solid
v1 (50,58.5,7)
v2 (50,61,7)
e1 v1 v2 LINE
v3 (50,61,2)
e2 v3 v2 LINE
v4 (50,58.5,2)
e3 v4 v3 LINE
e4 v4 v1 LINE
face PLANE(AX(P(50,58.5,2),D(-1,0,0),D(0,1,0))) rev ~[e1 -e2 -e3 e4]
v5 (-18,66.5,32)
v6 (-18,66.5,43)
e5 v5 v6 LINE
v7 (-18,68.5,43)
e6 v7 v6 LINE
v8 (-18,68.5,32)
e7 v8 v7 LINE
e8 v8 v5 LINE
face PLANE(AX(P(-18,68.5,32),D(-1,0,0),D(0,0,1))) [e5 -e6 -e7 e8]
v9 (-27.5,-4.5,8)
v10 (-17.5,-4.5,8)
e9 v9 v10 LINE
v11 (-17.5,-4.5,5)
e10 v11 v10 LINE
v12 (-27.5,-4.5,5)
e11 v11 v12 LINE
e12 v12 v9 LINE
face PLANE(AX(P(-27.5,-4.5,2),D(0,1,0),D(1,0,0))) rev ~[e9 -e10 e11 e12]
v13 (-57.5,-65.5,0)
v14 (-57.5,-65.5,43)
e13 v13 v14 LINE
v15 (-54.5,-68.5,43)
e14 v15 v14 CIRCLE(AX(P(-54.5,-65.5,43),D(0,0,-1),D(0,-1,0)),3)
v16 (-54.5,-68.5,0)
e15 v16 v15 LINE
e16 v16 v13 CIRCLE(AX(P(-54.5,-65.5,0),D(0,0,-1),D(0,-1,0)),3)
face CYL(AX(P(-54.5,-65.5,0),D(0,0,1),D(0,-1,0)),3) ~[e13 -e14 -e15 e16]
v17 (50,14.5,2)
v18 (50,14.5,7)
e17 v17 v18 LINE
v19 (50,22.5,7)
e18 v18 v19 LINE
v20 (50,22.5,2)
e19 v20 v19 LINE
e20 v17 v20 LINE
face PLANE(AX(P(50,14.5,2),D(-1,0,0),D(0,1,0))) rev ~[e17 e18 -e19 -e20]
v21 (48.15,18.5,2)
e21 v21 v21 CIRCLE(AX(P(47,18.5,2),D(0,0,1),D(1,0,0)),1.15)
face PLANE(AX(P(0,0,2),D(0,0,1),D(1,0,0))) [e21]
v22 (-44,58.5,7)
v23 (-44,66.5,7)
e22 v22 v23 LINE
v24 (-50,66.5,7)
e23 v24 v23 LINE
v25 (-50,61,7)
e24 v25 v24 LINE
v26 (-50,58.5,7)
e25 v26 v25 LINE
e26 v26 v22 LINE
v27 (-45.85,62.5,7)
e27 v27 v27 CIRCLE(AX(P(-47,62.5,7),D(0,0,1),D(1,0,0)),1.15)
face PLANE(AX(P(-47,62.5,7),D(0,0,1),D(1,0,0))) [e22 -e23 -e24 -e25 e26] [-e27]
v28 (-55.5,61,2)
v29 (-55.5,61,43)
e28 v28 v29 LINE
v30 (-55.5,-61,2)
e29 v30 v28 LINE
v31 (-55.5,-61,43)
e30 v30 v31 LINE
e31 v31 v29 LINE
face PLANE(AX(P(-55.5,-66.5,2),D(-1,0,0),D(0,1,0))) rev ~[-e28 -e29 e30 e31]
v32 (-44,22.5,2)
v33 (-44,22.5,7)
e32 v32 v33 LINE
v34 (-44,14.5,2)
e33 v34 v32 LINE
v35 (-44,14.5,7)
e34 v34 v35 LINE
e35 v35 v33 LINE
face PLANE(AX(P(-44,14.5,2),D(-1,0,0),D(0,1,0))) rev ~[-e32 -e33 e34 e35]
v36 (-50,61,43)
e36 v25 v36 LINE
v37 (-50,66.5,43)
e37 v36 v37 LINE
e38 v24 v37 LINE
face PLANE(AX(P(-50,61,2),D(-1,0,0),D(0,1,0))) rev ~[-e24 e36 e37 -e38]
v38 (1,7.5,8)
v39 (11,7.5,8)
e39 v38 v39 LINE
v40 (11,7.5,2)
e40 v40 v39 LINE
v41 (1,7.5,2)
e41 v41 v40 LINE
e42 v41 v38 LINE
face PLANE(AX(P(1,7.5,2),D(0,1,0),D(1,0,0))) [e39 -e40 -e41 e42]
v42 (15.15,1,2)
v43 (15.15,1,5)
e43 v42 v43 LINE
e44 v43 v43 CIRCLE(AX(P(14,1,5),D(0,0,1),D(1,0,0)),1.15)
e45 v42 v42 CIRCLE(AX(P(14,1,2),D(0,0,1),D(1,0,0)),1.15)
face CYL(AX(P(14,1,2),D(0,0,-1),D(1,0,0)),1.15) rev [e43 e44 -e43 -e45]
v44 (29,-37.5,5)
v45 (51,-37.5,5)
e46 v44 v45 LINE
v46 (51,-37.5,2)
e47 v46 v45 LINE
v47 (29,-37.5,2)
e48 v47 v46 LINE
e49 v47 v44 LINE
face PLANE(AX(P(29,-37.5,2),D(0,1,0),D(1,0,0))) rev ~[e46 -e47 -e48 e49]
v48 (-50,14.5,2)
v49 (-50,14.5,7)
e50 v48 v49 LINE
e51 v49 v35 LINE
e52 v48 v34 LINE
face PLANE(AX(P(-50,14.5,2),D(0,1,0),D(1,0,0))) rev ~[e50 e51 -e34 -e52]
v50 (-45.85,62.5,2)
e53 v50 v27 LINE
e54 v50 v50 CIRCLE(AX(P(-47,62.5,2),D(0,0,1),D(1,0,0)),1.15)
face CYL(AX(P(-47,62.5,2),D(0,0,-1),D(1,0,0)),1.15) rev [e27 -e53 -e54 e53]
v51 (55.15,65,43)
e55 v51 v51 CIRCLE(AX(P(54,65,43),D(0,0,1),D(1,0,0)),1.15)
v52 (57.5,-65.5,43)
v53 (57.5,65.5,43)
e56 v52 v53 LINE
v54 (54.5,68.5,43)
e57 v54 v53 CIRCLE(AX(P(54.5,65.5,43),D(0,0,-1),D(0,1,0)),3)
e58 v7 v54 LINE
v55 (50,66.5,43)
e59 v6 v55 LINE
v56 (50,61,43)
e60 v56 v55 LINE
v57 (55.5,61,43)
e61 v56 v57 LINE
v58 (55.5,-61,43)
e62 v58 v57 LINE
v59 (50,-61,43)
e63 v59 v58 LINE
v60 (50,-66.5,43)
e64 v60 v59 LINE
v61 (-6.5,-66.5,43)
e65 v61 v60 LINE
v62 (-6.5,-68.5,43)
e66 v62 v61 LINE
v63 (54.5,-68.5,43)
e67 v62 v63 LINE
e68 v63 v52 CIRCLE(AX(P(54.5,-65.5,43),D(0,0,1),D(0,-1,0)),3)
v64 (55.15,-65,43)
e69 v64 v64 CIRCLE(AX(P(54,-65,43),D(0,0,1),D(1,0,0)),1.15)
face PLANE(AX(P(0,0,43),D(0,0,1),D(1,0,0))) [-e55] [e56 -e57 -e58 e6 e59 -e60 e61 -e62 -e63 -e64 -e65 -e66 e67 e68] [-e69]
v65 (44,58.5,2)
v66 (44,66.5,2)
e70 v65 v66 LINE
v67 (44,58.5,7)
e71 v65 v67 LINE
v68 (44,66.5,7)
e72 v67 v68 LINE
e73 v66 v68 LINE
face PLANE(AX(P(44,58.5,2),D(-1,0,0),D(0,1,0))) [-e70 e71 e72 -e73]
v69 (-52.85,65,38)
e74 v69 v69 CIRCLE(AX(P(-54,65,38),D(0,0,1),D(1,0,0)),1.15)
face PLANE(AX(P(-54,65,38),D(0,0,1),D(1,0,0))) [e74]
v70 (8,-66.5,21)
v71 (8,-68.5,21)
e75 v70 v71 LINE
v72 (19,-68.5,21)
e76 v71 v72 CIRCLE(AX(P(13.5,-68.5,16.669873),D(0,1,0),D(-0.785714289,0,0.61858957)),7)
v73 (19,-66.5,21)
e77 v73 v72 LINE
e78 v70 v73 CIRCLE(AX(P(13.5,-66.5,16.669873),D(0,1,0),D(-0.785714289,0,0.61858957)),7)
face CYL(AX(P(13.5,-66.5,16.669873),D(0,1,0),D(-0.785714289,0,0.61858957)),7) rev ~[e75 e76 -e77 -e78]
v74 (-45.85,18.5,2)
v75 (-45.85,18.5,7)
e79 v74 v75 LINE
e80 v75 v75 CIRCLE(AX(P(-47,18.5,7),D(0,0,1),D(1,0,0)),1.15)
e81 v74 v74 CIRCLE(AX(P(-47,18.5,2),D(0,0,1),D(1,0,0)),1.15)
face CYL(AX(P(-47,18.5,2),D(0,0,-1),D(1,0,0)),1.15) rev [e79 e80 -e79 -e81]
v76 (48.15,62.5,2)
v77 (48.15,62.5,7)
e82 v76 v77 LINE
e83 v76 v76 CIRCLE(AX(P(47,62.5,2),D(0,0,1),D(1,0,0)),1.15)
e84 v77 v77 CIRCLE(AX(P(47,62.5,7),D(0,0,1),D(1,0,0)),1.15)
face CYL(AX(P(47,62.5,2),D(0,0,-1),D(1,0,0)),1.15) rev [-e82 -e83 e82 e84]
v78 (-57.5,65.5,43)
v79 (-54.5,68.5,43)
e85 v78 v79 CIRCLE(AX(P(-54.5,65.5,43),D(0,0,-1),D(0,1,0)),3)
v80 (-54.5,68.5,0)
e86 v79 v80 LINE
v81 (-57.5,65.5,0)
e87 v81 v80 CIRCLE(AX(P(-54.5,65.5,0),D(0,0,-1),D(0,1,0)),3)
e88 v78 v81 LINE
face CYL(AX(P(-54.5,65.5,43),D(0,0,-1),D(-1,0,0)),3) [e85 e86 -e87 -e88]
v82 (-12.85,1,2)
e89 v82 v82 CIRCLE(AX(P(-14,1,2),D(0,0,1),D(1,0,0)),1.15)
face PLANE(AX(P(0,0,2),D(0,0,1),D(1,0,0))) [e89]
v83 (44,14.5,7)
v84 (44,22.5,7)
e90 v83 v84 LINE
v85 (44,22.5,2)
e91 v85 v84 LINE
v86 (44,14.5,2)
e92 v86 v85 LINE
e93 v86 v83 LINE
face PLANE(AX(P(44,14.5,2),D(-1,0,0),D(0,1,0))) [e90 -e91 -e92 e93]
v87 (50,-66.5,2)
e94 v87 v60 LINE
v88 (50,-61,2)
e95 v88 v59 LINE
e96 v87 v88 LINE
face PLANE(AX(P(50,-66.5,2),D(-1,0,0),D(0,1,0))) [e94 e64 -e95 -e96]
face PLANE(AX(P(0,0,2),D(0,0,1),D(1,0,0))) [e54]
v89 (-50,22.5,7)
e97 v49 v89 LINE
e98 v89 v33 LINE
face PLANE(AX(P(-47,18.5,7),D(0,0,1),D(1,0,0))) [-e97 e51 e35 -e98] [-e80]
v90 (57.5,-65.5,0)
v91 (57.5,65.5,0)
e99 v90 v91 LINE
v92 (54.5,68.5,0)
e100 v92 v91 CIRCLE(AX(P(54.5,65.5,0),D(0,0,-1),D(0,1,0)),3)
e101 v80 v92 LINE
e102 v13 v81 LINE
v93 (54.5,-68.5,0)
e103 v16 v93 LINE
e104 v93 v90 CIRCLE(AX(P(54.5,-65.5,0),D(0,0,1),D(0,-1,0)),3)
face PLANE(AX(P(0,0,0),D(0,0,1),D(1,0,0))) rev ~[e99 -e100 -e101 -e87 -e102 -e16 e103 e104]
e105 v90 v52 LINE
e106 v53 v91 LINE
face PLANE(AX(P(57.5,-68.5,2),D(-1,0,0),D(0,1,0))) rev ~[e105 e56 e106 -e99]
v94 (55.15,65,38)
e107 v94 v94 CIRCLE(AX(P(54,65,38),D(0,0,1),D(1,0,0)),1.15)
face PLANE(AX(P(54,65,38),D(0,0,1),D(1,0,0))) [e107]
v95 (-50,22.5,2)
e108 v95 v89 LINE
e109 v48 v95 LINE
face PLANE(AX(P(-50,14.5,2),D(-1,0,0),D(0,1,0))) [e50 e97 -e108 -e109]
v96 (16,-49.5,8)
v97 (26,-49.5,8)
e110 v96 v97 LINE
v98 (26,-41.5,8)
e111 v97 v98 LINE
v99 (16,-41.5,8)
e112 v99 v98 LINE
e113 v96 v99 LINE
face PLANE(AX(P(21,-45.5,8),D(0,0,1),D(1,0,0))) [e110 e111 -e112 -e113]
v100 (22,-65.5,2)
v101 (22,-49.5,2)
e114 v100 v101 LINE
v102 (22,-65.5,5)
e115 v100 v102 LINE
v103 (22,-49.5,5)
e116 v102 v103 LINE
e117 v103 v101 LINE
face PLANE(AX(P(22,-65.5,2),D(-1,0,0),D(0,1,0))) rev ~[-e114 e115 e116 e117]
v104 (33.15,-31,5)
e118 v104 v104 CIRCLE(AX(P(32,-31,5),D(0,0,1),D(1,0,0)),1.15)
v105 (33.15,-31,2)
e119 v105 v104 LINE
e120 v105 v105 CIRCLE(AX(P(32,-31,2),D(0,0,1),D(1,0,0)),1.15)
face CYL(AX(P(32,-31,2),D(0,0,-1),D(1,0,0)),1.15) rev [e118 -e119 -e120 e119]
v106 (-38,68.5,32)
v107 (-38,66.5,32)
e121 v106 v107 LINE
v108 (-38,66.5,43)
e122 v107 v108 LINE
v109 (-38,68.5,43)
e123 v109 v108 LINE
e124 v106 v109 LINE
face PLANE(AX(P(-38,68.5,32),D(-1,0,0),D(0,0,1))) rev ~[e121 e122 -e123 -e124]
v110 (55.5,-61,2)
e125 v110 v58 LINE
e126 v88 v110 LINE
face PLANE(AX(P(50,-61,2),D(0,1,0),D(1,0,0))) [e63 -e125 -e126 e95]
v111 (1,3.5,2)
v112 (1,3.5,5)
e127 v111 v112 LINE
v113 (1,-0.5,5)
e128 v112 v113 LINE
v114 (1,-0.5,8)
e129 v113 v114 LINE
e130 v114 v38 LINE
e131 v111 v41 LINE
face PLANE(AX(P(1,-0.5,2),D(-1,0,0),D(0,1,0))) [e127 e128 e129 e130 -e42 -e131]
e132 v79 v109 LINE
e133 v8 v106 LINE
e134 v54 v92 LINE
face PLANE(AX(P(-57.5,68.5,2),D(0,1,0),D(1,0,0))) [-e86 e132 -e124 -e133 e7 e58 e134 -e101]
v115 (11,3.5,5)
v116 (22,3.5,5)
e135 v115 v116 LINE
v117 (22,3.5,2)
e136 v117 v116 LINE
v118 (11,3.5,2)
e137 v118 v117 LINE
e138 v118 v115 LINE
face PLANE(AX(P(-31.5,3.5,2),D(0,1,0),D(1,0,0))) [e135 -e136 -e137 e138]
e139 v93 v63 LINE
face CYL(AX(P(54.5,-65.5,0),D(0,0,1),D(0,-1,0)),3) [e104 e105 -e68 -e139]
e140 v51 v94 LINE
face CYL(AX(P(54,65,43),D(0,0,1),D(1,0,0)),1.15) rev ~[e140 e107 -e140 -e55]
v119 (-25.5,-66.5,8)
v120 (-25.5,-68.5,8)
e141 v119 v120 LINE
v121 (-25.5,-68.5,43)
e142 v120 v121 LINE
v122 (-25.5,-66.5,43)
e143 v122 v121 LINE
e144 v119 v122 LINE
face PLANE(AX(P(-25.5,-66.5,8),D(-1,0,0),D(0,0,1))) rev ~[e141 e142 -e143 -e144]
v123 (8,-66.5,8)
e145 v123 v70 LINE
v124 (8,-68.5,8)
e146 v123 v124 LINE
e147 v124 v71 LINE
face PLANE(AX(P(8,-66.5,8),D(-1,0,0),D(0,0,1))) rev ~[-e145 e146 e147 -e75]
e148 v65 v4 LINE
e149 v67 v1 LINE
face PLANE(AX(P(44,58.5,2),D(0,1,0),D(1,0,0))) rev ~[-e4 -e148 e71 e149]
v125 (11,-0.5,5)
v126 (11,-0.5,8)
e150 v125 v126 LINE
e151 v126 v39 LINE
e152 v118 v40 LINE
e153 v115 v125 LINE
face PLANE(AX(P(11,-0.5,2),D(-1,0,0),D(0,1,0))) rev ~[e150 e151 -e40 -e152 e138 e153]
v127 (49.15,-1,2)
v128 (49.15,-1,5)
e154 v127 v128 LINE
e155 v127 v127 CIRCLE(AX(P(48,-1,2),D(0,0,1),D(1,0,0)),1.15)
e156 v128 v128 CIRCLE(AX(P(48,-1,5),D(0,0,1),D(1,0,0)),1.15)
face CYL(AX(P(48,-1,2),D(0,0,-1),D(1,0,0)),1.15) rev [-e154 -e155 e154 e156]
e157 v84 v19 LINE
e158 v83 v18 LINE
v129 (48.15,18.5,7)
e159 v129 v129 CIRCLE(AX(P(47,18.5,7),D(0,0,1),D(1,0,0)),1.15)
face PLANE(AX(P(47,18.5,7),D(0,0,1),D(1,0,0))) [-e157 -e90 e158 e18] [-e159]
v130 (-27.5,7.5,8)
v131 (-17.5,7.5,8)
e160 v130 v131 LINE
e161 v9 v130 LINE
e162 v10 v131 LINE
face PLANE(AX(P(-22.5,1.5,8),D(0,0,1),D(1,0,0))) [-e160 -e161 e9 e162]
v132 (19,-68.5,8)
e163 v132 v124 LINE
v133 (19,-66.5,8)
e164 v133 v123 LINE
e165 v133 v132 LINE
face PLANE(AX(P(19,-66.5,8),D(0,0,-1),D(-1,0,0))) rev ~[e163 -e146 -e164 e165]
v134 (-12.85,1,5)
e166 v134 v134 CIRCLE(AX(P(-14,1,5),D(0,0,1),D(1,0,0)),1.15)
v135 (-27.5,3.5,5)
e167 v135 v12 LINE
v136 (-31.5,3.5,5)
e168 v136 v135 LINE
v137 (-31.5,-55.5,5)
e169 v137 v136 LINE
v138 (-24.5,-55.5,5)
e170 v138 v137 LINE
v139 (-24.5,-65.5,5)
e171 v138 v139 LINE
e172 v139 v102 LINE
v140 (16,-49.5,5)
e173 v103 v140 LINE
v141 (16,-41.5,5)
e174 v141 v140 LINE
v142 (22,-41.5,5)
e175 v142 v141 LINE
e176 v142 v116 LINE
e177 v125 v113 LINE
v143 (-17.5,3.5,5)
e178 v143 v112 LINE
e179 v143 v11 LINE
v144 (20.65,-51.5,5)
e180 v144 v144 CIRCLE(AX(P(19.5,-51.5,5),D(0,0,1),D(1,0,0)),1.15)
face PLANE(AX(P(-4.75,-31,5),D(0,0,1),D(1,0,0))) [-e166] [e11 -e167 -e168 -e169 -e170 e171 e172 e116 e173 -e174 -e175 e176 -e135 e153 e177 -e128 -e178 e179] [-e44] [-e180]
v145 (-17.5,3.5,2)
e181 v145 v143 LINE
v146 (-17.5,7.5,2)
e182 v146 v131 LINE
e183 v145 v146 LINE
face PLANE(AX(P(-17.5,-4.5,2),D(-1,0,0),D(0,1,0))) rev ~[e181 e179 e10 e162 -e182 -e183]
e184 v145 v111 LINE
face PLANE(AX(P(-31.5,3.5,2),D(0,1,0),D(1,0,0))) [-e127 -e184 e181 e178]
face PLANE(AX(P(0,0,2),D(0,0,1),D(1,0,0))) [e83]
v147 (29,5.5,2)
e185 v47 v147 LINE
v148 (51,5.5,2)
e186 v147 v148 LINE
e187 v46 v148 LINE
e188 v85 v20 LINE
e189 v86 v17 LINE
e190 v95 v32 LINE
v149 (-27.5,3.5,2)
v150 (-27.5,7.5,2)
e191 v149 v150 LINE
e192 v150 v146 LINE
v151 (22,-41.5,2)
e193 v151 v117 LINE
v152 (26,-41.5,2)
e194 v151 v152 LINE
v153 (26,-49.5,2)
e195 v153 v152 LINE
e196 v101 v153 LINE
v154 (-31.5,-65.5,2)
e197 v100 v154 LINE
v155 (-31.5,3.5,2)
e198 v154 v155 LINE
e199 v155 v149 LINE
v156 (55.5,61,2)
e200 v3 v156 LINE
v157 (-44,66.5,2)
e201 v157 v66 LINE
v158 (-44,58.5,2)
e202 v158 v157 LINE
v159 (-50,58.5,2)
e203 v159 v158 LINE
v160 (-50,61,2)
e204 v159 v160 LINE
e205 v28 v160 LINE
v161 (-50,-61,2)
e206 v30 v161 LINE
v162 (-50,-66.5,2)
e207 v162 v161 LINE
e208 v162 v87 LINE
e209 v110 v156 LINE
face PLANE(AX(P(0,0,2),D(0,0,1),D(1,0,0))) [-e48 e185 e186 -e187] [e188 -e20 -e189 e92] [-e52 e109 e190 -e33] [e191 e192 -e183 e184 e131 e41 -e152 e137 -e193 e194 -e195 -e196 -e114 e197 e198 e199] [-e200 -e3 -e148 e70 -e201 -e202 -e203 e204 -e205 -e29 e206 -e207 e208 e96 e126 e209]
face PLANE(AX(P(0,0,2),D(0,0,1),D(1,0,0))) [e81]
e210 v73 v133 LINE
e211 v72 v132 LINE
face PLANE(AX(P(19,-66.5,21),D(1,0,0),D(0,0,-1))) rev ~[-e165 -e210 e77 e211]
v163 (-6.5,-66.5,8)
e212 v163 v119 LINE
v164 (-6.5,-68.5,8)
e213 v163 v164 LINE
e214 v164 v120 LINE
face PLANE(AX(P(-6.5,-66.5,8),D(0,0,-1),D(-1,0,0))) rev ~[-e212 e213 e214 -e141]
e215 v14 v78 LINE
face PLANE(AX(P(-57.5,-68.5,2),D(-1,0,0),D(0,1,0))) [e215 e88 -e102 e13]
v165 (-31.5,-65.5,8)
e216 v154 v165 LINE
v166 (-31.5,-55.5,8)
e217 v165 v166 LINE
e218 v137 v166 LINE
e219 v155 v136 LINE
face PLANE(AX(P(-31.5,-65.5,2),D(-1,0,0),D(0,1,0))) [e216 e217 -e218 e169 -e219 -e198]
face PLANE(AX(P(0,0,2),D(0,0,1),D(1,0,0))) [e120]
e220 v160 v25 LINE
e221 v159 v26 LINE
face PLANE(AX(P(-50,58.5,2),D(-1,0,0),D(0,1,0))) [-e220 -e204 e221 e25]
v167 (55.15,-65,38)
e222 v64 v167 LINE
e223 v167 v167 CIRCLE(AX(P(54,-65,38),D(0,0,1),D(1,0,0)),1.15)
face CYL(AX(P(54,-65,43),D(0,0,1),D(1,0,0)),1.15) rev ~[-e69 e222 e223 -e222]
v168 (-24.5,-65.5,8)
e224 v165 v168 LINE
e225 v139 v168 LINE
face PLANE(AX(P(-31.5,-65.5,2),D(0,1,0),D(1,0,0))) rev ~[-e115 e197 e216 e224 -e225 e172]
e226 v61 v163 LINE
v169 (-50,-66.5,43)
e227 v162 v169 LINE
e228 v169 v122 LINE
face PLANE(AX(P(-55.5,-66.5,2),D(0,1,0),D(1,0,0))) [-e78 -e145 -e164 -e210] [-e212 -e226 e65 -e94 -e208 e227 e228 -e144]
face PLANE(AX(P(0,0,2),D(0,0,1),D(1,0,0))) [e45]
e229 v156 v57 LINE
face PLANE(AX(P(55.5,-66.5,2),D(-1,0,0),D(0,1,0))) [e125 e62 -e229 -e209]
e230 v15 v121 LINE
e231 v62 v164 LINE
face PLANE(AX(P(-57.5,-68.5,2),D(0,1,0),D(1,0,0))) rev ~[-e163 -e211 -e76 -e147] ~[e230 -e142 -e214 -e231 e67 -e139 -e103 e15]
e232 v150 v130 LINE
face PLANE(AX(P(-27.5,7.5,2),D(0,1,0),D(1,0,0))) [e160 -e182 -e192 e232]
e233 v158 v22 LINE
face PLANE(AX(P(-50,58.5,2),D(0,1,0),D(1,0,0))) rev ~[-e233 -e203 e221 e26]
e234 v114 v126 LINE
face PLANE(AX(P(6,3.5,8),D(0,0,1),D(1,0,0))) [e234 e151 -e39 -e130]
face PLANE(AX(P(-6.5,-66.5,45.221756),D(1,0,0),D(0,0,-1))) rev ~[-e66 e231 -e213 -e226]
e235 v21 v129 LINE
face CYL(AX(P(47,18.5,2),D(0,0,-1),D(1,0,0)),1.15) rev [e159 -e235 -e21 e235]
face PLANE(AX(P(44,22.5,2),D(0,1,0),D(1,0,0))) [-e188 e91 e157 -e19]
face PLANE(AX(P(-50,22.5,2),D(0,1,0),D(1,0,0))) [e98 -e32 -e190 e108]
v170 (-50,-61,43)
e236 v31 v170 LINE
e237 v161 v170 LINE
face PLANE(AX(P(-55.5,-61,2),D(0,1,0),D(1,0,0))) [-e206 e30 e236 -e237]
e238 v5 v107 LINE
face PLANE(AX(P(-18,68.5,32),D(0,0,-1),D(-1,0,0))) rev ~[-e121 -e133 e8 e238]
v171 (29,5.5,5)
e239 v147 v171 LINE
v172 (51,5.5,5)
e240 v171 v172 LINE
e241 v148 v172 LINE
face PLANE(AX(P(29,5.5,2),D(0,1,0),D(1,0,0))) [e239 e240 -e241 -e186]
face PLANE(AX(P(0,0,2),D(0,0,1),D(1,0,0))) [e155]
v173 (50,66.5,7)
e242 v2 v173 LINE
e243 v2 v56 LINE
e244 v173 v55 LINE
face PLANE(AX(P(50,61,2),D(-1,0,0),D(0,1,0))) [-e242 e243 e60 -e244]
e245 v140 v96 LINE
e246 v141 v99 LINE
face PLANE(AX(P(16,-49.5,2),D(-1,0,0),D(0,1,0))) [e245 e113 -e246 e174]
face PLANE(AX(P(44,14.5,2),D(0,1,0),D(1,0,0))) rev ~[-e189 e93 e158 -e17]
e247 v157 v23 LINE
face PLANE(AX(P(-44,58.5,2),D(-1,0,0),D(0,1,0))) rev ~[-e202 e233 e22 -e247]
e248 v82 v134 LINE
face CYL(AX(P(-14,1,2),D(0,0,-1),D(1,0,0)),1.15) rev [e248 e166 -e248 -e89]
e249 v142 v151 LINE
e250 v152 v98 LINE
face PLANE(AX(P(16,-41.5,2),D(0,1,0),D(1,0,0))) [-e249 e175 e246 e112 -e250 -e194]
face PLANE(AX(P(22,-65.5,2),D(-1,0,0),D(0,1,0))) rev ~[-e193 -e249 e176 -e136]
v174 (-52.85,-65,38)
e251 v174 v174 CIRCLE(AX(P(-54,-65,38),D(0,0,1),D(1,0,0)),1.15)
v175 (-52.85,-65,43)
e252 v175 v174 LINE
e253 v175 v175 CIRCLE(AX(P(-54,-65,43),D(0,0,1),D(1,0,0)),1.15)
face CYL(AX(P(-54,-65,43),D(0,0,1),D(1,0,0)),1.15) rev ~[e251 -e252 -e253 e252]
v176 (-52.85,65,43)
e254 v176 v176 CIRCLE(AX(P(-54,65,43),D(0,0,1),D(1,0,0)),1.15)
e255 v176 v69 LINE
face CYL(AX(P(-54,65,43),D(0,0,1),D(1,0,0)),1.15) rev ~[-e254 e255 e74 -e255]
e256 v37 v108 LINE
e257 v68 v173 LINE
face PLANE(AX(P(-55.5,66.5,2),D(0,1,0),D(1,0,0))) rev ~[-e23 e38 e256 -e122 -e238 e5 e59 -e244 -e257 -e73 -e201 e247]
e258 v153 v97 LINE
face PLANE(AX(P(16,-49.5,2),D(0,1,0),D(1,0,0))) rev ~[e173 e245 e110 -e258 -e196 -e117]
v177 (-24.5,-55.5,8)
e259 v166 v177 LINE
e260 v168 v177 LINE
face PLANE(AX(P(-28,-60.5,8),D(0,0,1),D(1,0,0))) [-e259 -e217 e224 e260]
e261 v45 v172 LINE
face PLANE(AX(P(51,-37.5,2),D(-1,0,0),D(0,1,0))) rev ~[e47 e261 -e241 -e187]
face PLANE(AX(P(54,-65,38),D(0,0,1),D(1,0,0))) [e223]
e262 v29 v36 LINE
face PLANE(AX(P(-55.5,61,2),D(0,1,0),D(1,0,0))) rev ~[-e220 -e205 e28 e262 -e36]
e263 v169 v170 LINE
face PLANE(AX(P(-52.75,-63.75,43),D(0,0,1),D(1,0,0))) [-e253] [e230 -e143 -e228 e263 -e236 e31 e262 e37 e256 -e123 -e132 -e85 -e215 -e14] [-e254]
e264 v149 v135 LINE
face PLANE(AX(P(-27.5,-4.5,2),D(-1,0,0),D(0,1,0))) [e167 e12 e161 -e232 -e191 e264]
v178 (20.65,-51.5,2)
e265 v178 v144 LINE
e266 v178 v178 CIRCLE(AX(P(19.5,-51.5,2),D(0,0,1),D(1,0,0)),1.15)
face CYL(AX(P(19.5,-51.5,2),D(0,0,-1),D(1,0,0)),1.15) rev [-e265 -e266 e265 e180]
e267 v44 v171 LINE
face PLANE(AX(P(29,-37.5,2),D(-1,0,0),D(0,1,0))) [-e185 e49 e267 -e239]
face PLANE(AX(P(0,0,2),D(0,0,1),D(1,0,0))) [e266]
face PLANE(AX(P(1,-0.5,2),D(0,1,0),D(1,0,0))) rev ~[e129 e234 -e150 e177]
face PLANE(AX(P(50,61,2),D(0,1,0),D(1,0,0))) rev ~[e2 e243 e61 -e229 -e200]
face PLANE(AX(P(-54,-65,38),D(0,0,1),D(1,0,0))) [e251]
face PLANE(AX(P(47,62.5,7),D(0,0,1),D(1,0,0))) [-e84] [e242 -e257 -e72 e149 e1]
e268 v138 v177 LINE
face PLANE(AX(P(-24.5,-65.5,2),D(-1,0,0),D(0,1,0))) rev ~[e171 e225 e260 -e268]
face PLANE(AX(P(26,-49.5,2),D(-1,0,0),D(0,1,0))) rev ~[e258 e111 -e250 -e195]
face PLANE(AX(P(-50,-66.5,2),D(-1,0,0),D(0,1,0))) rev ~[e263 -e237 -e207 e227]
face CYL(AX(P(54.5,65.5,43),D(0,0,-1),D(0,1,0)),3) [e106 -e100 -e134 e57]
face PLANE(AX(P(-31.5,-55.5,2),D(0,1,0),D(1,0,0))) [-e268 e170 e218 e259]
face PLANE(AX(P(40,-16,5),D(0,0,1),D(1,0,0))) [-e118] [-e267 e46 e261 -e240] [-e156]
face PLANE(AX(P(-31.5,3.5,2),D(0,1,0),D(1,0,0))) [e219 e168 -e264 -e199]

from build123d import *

# Parameters (mm, degrees)
F0_W      = 115
F0_H      = 137
F1_DEPTH  = 2
F2_W      = 115
F2_H      = 137
F2_W_2    = 111
F2_H_2    = 133
F3_DEPTH  = 41
F4_W      = 6
F4_H      = 8
F4_R      = 1.15
F5_DEPTH  = 5
F6_W      = 22
F6_H      = 43
F6_R      = 1.15
F7_DEPTH  = 3
F8_W      = 53.5
F8_H      = 69
F8_R      = 1.15
F9_DEPTH  = 3
F10_W     = 10
F10_H     = 8
F10_W_2   = 7
F10_H_2   = 10
F10_H_3   = 12
F11_DEPTH = 6
F12_W     = 19
F12_H     = 5.221757
F12_H_2   = 32
F13_DEPTH = 2
F14_W     = 20
F14_H     = 11
F15_DEPTH = 2
F16_W     = 5.5
F16_H     = 5.5
F17_DEPTH = 41
F18_R     = 1.15
F19_DEPTH = 5
F20_R     = 3


with BuildPart() as f1:
    # F0 (on Top) → F1 (new body)
    with BuildSketch(Plane.XY):
        Rectangle(F0_W, F0_H)
    extrude(amount=F1_DEPTH)

    # F2 (on face) → F3 (join)
    with BuildSketch(Plane.XY.offset(2)):
        Rectangle(F2_W, F2_H)
        Rectangle(F2_W_2, F2_H_2, mode=Mode.SUBTRACT)
    extrude(amount=F3_DEPTH)

    # F4 (on face) → F5 (join)
    with BuildSketch(Plane.XY.offset(2)):
        with Locations((-47, 62.5)):
            Rectangle(F4_W, F4_H)
        with Locations((-47, 62.5)):
            Circle(F4_R, mode=Mode.SUBTRACT)
        with Locations((47, 62.5)):
            Rectangle(F4_W, F4_H)
        with Locations((47, 62.5)):
            Circle(F4_R, mode=Mode.SUBTRACT)
        with Locations((-47, 18.5)):
            Rectangle(F4_W, F4_H)
        with Locations((-47, 18.5)):
            Circle(F4_R, mode=Mode.SUBTRACT)
        with Locations((47, 18.5)):
            Rectangle(F4_W, F4_H)
        with Locations((47, 18.5)):
            Circle(F4_R, mode=Mode.SUBTRACT)
    extrude(amount=F5_DEPTH)

    # F6 (on face) → F7 (join)
    with BuildSketch(Plane.XY.offset(2)):
        with Locations((40, -16)):
            Rectangle(F6_W, F6_H)
        with Locations((32, -31)):
            Circle(F6_R, mode=Mode.SUBTRACT)
        with Locations((48, -1)):
            Circle(F6_R, mode=Mode.SUBTRACT)
    extrude(amount=F7_DEPTH)

    # F8 (on face) → F9 (join)
    with BuildSketch(Plane.XY.offset(2)):
        with Locations((-4.75, -31)):
            Rectangle(F8_W, F8_H)
        with Locations((19.5, -51.5)):
            Circle(F8_R, mode=Mode.SUBTRACT)
        with Locations((-14, 1)):
            Circle(F8_R, mode=Mode.SUBTRACT)
        with Locations((14, 1)):
            Circle(F8_R, mode=Mode.SUBTRACT)
    extrude(amount=F9_DEPTH)

    # F10 (on face) → F11 (join)
    with BuildSketch(Plane.XY.offset(2)):
        with Locations((6, 3.5)):
            Rectangle(F10_W, F10_H)
        with Locations((21, -45.5)):
            Rectangle(F10_W, F10_H)
        with Locations((-28, -60.5)):
            Rectangle(F10_W_2, F10_H_2)
        with Locations((-22.5, 1.5)):
            Rectangle(F10_W, F10_H_3)
    extrude(amount=F11_DEPTH)

    # F12 (on face) → F13 (cut)
    with BuildSketch(Plane(origin=(0, -66.5, 0), x_dir=(-1, 0, 0), z_dir=(0, 1, 0))):
        with Locations((16, 42.610878)):
            Rectangle(F12_W, F12_H)
        with Locations((16, 24)):
            Rectangle(F12_W, F12_H_2)
        with BuildLine():
            Line((-19, 8), (-8, 8))
            Line((-8, 8), (-8, 21))
            ThreePointArc((-8, 21), (-13.5, 23.669873), (-19, 21))
            Line((-19, 21), (-19, 8))
        make_face()
    extrude(amount=-F13_DEPTH, mode=Mode.SUBTRACT)

    # F14 (on face) → F15 (cut)
    with BuildSketch(Plane(origin=(0, 68.5, 0), x_dir=(-1, 0, 0), z_dir=(0, 1, 0))):
        with Locations((28, 37.5)):
            Rectangle(F14_W, F14_H)
    extrude(amount=-F15_DEPTH, mode=Mode.SUBTRACT)

    # F16 (on face) → F17 (join)
    with BuildSketch(Plane.XY.offset(2)):
        with Locations((-52.75, -63.75)):
            Rectangle(F16_W, F16_H)
        with Locations((-52.75, 63.75)):
            Rectangle(F16_W, F16_H)
        with Locations((52.75, 63.75)):
            Rectangle(F16_W, F16_H)
        with Locations((52.75, -63.75)):
            Rectangle(F16_W, F16_H)
    extrude(amount=F17_DEPTH)

    # F18 (on face) → F19 (cut)
    with BuildSketch(Plane.XY.offset(43)):
        with Locations((-54, -65)):
            Circle(F18_R)
        with Locations((-54, 65)):
            Circle(F18_R)
        with Locations((54, 65)):
            Circle(F18_R)
        with Locations((54, -65)):
            Circle(F18_R)
    extrude(amount=-F19_DEPTH, mode=Mode.SUBTRACT)

    # F20
    f20_edges = [f1.edges().sort_by_distance(p)[0] for p in [
        (-57.5, -68.5, 21.5),
        (57.5, -68.5, 21.5),
        (57.5, 68.5, 21.5),
        (-57.5, 68.5, 21.5),
    ]]
    fillet(f20_edges, radius=F20_R)


solid = f1.part
